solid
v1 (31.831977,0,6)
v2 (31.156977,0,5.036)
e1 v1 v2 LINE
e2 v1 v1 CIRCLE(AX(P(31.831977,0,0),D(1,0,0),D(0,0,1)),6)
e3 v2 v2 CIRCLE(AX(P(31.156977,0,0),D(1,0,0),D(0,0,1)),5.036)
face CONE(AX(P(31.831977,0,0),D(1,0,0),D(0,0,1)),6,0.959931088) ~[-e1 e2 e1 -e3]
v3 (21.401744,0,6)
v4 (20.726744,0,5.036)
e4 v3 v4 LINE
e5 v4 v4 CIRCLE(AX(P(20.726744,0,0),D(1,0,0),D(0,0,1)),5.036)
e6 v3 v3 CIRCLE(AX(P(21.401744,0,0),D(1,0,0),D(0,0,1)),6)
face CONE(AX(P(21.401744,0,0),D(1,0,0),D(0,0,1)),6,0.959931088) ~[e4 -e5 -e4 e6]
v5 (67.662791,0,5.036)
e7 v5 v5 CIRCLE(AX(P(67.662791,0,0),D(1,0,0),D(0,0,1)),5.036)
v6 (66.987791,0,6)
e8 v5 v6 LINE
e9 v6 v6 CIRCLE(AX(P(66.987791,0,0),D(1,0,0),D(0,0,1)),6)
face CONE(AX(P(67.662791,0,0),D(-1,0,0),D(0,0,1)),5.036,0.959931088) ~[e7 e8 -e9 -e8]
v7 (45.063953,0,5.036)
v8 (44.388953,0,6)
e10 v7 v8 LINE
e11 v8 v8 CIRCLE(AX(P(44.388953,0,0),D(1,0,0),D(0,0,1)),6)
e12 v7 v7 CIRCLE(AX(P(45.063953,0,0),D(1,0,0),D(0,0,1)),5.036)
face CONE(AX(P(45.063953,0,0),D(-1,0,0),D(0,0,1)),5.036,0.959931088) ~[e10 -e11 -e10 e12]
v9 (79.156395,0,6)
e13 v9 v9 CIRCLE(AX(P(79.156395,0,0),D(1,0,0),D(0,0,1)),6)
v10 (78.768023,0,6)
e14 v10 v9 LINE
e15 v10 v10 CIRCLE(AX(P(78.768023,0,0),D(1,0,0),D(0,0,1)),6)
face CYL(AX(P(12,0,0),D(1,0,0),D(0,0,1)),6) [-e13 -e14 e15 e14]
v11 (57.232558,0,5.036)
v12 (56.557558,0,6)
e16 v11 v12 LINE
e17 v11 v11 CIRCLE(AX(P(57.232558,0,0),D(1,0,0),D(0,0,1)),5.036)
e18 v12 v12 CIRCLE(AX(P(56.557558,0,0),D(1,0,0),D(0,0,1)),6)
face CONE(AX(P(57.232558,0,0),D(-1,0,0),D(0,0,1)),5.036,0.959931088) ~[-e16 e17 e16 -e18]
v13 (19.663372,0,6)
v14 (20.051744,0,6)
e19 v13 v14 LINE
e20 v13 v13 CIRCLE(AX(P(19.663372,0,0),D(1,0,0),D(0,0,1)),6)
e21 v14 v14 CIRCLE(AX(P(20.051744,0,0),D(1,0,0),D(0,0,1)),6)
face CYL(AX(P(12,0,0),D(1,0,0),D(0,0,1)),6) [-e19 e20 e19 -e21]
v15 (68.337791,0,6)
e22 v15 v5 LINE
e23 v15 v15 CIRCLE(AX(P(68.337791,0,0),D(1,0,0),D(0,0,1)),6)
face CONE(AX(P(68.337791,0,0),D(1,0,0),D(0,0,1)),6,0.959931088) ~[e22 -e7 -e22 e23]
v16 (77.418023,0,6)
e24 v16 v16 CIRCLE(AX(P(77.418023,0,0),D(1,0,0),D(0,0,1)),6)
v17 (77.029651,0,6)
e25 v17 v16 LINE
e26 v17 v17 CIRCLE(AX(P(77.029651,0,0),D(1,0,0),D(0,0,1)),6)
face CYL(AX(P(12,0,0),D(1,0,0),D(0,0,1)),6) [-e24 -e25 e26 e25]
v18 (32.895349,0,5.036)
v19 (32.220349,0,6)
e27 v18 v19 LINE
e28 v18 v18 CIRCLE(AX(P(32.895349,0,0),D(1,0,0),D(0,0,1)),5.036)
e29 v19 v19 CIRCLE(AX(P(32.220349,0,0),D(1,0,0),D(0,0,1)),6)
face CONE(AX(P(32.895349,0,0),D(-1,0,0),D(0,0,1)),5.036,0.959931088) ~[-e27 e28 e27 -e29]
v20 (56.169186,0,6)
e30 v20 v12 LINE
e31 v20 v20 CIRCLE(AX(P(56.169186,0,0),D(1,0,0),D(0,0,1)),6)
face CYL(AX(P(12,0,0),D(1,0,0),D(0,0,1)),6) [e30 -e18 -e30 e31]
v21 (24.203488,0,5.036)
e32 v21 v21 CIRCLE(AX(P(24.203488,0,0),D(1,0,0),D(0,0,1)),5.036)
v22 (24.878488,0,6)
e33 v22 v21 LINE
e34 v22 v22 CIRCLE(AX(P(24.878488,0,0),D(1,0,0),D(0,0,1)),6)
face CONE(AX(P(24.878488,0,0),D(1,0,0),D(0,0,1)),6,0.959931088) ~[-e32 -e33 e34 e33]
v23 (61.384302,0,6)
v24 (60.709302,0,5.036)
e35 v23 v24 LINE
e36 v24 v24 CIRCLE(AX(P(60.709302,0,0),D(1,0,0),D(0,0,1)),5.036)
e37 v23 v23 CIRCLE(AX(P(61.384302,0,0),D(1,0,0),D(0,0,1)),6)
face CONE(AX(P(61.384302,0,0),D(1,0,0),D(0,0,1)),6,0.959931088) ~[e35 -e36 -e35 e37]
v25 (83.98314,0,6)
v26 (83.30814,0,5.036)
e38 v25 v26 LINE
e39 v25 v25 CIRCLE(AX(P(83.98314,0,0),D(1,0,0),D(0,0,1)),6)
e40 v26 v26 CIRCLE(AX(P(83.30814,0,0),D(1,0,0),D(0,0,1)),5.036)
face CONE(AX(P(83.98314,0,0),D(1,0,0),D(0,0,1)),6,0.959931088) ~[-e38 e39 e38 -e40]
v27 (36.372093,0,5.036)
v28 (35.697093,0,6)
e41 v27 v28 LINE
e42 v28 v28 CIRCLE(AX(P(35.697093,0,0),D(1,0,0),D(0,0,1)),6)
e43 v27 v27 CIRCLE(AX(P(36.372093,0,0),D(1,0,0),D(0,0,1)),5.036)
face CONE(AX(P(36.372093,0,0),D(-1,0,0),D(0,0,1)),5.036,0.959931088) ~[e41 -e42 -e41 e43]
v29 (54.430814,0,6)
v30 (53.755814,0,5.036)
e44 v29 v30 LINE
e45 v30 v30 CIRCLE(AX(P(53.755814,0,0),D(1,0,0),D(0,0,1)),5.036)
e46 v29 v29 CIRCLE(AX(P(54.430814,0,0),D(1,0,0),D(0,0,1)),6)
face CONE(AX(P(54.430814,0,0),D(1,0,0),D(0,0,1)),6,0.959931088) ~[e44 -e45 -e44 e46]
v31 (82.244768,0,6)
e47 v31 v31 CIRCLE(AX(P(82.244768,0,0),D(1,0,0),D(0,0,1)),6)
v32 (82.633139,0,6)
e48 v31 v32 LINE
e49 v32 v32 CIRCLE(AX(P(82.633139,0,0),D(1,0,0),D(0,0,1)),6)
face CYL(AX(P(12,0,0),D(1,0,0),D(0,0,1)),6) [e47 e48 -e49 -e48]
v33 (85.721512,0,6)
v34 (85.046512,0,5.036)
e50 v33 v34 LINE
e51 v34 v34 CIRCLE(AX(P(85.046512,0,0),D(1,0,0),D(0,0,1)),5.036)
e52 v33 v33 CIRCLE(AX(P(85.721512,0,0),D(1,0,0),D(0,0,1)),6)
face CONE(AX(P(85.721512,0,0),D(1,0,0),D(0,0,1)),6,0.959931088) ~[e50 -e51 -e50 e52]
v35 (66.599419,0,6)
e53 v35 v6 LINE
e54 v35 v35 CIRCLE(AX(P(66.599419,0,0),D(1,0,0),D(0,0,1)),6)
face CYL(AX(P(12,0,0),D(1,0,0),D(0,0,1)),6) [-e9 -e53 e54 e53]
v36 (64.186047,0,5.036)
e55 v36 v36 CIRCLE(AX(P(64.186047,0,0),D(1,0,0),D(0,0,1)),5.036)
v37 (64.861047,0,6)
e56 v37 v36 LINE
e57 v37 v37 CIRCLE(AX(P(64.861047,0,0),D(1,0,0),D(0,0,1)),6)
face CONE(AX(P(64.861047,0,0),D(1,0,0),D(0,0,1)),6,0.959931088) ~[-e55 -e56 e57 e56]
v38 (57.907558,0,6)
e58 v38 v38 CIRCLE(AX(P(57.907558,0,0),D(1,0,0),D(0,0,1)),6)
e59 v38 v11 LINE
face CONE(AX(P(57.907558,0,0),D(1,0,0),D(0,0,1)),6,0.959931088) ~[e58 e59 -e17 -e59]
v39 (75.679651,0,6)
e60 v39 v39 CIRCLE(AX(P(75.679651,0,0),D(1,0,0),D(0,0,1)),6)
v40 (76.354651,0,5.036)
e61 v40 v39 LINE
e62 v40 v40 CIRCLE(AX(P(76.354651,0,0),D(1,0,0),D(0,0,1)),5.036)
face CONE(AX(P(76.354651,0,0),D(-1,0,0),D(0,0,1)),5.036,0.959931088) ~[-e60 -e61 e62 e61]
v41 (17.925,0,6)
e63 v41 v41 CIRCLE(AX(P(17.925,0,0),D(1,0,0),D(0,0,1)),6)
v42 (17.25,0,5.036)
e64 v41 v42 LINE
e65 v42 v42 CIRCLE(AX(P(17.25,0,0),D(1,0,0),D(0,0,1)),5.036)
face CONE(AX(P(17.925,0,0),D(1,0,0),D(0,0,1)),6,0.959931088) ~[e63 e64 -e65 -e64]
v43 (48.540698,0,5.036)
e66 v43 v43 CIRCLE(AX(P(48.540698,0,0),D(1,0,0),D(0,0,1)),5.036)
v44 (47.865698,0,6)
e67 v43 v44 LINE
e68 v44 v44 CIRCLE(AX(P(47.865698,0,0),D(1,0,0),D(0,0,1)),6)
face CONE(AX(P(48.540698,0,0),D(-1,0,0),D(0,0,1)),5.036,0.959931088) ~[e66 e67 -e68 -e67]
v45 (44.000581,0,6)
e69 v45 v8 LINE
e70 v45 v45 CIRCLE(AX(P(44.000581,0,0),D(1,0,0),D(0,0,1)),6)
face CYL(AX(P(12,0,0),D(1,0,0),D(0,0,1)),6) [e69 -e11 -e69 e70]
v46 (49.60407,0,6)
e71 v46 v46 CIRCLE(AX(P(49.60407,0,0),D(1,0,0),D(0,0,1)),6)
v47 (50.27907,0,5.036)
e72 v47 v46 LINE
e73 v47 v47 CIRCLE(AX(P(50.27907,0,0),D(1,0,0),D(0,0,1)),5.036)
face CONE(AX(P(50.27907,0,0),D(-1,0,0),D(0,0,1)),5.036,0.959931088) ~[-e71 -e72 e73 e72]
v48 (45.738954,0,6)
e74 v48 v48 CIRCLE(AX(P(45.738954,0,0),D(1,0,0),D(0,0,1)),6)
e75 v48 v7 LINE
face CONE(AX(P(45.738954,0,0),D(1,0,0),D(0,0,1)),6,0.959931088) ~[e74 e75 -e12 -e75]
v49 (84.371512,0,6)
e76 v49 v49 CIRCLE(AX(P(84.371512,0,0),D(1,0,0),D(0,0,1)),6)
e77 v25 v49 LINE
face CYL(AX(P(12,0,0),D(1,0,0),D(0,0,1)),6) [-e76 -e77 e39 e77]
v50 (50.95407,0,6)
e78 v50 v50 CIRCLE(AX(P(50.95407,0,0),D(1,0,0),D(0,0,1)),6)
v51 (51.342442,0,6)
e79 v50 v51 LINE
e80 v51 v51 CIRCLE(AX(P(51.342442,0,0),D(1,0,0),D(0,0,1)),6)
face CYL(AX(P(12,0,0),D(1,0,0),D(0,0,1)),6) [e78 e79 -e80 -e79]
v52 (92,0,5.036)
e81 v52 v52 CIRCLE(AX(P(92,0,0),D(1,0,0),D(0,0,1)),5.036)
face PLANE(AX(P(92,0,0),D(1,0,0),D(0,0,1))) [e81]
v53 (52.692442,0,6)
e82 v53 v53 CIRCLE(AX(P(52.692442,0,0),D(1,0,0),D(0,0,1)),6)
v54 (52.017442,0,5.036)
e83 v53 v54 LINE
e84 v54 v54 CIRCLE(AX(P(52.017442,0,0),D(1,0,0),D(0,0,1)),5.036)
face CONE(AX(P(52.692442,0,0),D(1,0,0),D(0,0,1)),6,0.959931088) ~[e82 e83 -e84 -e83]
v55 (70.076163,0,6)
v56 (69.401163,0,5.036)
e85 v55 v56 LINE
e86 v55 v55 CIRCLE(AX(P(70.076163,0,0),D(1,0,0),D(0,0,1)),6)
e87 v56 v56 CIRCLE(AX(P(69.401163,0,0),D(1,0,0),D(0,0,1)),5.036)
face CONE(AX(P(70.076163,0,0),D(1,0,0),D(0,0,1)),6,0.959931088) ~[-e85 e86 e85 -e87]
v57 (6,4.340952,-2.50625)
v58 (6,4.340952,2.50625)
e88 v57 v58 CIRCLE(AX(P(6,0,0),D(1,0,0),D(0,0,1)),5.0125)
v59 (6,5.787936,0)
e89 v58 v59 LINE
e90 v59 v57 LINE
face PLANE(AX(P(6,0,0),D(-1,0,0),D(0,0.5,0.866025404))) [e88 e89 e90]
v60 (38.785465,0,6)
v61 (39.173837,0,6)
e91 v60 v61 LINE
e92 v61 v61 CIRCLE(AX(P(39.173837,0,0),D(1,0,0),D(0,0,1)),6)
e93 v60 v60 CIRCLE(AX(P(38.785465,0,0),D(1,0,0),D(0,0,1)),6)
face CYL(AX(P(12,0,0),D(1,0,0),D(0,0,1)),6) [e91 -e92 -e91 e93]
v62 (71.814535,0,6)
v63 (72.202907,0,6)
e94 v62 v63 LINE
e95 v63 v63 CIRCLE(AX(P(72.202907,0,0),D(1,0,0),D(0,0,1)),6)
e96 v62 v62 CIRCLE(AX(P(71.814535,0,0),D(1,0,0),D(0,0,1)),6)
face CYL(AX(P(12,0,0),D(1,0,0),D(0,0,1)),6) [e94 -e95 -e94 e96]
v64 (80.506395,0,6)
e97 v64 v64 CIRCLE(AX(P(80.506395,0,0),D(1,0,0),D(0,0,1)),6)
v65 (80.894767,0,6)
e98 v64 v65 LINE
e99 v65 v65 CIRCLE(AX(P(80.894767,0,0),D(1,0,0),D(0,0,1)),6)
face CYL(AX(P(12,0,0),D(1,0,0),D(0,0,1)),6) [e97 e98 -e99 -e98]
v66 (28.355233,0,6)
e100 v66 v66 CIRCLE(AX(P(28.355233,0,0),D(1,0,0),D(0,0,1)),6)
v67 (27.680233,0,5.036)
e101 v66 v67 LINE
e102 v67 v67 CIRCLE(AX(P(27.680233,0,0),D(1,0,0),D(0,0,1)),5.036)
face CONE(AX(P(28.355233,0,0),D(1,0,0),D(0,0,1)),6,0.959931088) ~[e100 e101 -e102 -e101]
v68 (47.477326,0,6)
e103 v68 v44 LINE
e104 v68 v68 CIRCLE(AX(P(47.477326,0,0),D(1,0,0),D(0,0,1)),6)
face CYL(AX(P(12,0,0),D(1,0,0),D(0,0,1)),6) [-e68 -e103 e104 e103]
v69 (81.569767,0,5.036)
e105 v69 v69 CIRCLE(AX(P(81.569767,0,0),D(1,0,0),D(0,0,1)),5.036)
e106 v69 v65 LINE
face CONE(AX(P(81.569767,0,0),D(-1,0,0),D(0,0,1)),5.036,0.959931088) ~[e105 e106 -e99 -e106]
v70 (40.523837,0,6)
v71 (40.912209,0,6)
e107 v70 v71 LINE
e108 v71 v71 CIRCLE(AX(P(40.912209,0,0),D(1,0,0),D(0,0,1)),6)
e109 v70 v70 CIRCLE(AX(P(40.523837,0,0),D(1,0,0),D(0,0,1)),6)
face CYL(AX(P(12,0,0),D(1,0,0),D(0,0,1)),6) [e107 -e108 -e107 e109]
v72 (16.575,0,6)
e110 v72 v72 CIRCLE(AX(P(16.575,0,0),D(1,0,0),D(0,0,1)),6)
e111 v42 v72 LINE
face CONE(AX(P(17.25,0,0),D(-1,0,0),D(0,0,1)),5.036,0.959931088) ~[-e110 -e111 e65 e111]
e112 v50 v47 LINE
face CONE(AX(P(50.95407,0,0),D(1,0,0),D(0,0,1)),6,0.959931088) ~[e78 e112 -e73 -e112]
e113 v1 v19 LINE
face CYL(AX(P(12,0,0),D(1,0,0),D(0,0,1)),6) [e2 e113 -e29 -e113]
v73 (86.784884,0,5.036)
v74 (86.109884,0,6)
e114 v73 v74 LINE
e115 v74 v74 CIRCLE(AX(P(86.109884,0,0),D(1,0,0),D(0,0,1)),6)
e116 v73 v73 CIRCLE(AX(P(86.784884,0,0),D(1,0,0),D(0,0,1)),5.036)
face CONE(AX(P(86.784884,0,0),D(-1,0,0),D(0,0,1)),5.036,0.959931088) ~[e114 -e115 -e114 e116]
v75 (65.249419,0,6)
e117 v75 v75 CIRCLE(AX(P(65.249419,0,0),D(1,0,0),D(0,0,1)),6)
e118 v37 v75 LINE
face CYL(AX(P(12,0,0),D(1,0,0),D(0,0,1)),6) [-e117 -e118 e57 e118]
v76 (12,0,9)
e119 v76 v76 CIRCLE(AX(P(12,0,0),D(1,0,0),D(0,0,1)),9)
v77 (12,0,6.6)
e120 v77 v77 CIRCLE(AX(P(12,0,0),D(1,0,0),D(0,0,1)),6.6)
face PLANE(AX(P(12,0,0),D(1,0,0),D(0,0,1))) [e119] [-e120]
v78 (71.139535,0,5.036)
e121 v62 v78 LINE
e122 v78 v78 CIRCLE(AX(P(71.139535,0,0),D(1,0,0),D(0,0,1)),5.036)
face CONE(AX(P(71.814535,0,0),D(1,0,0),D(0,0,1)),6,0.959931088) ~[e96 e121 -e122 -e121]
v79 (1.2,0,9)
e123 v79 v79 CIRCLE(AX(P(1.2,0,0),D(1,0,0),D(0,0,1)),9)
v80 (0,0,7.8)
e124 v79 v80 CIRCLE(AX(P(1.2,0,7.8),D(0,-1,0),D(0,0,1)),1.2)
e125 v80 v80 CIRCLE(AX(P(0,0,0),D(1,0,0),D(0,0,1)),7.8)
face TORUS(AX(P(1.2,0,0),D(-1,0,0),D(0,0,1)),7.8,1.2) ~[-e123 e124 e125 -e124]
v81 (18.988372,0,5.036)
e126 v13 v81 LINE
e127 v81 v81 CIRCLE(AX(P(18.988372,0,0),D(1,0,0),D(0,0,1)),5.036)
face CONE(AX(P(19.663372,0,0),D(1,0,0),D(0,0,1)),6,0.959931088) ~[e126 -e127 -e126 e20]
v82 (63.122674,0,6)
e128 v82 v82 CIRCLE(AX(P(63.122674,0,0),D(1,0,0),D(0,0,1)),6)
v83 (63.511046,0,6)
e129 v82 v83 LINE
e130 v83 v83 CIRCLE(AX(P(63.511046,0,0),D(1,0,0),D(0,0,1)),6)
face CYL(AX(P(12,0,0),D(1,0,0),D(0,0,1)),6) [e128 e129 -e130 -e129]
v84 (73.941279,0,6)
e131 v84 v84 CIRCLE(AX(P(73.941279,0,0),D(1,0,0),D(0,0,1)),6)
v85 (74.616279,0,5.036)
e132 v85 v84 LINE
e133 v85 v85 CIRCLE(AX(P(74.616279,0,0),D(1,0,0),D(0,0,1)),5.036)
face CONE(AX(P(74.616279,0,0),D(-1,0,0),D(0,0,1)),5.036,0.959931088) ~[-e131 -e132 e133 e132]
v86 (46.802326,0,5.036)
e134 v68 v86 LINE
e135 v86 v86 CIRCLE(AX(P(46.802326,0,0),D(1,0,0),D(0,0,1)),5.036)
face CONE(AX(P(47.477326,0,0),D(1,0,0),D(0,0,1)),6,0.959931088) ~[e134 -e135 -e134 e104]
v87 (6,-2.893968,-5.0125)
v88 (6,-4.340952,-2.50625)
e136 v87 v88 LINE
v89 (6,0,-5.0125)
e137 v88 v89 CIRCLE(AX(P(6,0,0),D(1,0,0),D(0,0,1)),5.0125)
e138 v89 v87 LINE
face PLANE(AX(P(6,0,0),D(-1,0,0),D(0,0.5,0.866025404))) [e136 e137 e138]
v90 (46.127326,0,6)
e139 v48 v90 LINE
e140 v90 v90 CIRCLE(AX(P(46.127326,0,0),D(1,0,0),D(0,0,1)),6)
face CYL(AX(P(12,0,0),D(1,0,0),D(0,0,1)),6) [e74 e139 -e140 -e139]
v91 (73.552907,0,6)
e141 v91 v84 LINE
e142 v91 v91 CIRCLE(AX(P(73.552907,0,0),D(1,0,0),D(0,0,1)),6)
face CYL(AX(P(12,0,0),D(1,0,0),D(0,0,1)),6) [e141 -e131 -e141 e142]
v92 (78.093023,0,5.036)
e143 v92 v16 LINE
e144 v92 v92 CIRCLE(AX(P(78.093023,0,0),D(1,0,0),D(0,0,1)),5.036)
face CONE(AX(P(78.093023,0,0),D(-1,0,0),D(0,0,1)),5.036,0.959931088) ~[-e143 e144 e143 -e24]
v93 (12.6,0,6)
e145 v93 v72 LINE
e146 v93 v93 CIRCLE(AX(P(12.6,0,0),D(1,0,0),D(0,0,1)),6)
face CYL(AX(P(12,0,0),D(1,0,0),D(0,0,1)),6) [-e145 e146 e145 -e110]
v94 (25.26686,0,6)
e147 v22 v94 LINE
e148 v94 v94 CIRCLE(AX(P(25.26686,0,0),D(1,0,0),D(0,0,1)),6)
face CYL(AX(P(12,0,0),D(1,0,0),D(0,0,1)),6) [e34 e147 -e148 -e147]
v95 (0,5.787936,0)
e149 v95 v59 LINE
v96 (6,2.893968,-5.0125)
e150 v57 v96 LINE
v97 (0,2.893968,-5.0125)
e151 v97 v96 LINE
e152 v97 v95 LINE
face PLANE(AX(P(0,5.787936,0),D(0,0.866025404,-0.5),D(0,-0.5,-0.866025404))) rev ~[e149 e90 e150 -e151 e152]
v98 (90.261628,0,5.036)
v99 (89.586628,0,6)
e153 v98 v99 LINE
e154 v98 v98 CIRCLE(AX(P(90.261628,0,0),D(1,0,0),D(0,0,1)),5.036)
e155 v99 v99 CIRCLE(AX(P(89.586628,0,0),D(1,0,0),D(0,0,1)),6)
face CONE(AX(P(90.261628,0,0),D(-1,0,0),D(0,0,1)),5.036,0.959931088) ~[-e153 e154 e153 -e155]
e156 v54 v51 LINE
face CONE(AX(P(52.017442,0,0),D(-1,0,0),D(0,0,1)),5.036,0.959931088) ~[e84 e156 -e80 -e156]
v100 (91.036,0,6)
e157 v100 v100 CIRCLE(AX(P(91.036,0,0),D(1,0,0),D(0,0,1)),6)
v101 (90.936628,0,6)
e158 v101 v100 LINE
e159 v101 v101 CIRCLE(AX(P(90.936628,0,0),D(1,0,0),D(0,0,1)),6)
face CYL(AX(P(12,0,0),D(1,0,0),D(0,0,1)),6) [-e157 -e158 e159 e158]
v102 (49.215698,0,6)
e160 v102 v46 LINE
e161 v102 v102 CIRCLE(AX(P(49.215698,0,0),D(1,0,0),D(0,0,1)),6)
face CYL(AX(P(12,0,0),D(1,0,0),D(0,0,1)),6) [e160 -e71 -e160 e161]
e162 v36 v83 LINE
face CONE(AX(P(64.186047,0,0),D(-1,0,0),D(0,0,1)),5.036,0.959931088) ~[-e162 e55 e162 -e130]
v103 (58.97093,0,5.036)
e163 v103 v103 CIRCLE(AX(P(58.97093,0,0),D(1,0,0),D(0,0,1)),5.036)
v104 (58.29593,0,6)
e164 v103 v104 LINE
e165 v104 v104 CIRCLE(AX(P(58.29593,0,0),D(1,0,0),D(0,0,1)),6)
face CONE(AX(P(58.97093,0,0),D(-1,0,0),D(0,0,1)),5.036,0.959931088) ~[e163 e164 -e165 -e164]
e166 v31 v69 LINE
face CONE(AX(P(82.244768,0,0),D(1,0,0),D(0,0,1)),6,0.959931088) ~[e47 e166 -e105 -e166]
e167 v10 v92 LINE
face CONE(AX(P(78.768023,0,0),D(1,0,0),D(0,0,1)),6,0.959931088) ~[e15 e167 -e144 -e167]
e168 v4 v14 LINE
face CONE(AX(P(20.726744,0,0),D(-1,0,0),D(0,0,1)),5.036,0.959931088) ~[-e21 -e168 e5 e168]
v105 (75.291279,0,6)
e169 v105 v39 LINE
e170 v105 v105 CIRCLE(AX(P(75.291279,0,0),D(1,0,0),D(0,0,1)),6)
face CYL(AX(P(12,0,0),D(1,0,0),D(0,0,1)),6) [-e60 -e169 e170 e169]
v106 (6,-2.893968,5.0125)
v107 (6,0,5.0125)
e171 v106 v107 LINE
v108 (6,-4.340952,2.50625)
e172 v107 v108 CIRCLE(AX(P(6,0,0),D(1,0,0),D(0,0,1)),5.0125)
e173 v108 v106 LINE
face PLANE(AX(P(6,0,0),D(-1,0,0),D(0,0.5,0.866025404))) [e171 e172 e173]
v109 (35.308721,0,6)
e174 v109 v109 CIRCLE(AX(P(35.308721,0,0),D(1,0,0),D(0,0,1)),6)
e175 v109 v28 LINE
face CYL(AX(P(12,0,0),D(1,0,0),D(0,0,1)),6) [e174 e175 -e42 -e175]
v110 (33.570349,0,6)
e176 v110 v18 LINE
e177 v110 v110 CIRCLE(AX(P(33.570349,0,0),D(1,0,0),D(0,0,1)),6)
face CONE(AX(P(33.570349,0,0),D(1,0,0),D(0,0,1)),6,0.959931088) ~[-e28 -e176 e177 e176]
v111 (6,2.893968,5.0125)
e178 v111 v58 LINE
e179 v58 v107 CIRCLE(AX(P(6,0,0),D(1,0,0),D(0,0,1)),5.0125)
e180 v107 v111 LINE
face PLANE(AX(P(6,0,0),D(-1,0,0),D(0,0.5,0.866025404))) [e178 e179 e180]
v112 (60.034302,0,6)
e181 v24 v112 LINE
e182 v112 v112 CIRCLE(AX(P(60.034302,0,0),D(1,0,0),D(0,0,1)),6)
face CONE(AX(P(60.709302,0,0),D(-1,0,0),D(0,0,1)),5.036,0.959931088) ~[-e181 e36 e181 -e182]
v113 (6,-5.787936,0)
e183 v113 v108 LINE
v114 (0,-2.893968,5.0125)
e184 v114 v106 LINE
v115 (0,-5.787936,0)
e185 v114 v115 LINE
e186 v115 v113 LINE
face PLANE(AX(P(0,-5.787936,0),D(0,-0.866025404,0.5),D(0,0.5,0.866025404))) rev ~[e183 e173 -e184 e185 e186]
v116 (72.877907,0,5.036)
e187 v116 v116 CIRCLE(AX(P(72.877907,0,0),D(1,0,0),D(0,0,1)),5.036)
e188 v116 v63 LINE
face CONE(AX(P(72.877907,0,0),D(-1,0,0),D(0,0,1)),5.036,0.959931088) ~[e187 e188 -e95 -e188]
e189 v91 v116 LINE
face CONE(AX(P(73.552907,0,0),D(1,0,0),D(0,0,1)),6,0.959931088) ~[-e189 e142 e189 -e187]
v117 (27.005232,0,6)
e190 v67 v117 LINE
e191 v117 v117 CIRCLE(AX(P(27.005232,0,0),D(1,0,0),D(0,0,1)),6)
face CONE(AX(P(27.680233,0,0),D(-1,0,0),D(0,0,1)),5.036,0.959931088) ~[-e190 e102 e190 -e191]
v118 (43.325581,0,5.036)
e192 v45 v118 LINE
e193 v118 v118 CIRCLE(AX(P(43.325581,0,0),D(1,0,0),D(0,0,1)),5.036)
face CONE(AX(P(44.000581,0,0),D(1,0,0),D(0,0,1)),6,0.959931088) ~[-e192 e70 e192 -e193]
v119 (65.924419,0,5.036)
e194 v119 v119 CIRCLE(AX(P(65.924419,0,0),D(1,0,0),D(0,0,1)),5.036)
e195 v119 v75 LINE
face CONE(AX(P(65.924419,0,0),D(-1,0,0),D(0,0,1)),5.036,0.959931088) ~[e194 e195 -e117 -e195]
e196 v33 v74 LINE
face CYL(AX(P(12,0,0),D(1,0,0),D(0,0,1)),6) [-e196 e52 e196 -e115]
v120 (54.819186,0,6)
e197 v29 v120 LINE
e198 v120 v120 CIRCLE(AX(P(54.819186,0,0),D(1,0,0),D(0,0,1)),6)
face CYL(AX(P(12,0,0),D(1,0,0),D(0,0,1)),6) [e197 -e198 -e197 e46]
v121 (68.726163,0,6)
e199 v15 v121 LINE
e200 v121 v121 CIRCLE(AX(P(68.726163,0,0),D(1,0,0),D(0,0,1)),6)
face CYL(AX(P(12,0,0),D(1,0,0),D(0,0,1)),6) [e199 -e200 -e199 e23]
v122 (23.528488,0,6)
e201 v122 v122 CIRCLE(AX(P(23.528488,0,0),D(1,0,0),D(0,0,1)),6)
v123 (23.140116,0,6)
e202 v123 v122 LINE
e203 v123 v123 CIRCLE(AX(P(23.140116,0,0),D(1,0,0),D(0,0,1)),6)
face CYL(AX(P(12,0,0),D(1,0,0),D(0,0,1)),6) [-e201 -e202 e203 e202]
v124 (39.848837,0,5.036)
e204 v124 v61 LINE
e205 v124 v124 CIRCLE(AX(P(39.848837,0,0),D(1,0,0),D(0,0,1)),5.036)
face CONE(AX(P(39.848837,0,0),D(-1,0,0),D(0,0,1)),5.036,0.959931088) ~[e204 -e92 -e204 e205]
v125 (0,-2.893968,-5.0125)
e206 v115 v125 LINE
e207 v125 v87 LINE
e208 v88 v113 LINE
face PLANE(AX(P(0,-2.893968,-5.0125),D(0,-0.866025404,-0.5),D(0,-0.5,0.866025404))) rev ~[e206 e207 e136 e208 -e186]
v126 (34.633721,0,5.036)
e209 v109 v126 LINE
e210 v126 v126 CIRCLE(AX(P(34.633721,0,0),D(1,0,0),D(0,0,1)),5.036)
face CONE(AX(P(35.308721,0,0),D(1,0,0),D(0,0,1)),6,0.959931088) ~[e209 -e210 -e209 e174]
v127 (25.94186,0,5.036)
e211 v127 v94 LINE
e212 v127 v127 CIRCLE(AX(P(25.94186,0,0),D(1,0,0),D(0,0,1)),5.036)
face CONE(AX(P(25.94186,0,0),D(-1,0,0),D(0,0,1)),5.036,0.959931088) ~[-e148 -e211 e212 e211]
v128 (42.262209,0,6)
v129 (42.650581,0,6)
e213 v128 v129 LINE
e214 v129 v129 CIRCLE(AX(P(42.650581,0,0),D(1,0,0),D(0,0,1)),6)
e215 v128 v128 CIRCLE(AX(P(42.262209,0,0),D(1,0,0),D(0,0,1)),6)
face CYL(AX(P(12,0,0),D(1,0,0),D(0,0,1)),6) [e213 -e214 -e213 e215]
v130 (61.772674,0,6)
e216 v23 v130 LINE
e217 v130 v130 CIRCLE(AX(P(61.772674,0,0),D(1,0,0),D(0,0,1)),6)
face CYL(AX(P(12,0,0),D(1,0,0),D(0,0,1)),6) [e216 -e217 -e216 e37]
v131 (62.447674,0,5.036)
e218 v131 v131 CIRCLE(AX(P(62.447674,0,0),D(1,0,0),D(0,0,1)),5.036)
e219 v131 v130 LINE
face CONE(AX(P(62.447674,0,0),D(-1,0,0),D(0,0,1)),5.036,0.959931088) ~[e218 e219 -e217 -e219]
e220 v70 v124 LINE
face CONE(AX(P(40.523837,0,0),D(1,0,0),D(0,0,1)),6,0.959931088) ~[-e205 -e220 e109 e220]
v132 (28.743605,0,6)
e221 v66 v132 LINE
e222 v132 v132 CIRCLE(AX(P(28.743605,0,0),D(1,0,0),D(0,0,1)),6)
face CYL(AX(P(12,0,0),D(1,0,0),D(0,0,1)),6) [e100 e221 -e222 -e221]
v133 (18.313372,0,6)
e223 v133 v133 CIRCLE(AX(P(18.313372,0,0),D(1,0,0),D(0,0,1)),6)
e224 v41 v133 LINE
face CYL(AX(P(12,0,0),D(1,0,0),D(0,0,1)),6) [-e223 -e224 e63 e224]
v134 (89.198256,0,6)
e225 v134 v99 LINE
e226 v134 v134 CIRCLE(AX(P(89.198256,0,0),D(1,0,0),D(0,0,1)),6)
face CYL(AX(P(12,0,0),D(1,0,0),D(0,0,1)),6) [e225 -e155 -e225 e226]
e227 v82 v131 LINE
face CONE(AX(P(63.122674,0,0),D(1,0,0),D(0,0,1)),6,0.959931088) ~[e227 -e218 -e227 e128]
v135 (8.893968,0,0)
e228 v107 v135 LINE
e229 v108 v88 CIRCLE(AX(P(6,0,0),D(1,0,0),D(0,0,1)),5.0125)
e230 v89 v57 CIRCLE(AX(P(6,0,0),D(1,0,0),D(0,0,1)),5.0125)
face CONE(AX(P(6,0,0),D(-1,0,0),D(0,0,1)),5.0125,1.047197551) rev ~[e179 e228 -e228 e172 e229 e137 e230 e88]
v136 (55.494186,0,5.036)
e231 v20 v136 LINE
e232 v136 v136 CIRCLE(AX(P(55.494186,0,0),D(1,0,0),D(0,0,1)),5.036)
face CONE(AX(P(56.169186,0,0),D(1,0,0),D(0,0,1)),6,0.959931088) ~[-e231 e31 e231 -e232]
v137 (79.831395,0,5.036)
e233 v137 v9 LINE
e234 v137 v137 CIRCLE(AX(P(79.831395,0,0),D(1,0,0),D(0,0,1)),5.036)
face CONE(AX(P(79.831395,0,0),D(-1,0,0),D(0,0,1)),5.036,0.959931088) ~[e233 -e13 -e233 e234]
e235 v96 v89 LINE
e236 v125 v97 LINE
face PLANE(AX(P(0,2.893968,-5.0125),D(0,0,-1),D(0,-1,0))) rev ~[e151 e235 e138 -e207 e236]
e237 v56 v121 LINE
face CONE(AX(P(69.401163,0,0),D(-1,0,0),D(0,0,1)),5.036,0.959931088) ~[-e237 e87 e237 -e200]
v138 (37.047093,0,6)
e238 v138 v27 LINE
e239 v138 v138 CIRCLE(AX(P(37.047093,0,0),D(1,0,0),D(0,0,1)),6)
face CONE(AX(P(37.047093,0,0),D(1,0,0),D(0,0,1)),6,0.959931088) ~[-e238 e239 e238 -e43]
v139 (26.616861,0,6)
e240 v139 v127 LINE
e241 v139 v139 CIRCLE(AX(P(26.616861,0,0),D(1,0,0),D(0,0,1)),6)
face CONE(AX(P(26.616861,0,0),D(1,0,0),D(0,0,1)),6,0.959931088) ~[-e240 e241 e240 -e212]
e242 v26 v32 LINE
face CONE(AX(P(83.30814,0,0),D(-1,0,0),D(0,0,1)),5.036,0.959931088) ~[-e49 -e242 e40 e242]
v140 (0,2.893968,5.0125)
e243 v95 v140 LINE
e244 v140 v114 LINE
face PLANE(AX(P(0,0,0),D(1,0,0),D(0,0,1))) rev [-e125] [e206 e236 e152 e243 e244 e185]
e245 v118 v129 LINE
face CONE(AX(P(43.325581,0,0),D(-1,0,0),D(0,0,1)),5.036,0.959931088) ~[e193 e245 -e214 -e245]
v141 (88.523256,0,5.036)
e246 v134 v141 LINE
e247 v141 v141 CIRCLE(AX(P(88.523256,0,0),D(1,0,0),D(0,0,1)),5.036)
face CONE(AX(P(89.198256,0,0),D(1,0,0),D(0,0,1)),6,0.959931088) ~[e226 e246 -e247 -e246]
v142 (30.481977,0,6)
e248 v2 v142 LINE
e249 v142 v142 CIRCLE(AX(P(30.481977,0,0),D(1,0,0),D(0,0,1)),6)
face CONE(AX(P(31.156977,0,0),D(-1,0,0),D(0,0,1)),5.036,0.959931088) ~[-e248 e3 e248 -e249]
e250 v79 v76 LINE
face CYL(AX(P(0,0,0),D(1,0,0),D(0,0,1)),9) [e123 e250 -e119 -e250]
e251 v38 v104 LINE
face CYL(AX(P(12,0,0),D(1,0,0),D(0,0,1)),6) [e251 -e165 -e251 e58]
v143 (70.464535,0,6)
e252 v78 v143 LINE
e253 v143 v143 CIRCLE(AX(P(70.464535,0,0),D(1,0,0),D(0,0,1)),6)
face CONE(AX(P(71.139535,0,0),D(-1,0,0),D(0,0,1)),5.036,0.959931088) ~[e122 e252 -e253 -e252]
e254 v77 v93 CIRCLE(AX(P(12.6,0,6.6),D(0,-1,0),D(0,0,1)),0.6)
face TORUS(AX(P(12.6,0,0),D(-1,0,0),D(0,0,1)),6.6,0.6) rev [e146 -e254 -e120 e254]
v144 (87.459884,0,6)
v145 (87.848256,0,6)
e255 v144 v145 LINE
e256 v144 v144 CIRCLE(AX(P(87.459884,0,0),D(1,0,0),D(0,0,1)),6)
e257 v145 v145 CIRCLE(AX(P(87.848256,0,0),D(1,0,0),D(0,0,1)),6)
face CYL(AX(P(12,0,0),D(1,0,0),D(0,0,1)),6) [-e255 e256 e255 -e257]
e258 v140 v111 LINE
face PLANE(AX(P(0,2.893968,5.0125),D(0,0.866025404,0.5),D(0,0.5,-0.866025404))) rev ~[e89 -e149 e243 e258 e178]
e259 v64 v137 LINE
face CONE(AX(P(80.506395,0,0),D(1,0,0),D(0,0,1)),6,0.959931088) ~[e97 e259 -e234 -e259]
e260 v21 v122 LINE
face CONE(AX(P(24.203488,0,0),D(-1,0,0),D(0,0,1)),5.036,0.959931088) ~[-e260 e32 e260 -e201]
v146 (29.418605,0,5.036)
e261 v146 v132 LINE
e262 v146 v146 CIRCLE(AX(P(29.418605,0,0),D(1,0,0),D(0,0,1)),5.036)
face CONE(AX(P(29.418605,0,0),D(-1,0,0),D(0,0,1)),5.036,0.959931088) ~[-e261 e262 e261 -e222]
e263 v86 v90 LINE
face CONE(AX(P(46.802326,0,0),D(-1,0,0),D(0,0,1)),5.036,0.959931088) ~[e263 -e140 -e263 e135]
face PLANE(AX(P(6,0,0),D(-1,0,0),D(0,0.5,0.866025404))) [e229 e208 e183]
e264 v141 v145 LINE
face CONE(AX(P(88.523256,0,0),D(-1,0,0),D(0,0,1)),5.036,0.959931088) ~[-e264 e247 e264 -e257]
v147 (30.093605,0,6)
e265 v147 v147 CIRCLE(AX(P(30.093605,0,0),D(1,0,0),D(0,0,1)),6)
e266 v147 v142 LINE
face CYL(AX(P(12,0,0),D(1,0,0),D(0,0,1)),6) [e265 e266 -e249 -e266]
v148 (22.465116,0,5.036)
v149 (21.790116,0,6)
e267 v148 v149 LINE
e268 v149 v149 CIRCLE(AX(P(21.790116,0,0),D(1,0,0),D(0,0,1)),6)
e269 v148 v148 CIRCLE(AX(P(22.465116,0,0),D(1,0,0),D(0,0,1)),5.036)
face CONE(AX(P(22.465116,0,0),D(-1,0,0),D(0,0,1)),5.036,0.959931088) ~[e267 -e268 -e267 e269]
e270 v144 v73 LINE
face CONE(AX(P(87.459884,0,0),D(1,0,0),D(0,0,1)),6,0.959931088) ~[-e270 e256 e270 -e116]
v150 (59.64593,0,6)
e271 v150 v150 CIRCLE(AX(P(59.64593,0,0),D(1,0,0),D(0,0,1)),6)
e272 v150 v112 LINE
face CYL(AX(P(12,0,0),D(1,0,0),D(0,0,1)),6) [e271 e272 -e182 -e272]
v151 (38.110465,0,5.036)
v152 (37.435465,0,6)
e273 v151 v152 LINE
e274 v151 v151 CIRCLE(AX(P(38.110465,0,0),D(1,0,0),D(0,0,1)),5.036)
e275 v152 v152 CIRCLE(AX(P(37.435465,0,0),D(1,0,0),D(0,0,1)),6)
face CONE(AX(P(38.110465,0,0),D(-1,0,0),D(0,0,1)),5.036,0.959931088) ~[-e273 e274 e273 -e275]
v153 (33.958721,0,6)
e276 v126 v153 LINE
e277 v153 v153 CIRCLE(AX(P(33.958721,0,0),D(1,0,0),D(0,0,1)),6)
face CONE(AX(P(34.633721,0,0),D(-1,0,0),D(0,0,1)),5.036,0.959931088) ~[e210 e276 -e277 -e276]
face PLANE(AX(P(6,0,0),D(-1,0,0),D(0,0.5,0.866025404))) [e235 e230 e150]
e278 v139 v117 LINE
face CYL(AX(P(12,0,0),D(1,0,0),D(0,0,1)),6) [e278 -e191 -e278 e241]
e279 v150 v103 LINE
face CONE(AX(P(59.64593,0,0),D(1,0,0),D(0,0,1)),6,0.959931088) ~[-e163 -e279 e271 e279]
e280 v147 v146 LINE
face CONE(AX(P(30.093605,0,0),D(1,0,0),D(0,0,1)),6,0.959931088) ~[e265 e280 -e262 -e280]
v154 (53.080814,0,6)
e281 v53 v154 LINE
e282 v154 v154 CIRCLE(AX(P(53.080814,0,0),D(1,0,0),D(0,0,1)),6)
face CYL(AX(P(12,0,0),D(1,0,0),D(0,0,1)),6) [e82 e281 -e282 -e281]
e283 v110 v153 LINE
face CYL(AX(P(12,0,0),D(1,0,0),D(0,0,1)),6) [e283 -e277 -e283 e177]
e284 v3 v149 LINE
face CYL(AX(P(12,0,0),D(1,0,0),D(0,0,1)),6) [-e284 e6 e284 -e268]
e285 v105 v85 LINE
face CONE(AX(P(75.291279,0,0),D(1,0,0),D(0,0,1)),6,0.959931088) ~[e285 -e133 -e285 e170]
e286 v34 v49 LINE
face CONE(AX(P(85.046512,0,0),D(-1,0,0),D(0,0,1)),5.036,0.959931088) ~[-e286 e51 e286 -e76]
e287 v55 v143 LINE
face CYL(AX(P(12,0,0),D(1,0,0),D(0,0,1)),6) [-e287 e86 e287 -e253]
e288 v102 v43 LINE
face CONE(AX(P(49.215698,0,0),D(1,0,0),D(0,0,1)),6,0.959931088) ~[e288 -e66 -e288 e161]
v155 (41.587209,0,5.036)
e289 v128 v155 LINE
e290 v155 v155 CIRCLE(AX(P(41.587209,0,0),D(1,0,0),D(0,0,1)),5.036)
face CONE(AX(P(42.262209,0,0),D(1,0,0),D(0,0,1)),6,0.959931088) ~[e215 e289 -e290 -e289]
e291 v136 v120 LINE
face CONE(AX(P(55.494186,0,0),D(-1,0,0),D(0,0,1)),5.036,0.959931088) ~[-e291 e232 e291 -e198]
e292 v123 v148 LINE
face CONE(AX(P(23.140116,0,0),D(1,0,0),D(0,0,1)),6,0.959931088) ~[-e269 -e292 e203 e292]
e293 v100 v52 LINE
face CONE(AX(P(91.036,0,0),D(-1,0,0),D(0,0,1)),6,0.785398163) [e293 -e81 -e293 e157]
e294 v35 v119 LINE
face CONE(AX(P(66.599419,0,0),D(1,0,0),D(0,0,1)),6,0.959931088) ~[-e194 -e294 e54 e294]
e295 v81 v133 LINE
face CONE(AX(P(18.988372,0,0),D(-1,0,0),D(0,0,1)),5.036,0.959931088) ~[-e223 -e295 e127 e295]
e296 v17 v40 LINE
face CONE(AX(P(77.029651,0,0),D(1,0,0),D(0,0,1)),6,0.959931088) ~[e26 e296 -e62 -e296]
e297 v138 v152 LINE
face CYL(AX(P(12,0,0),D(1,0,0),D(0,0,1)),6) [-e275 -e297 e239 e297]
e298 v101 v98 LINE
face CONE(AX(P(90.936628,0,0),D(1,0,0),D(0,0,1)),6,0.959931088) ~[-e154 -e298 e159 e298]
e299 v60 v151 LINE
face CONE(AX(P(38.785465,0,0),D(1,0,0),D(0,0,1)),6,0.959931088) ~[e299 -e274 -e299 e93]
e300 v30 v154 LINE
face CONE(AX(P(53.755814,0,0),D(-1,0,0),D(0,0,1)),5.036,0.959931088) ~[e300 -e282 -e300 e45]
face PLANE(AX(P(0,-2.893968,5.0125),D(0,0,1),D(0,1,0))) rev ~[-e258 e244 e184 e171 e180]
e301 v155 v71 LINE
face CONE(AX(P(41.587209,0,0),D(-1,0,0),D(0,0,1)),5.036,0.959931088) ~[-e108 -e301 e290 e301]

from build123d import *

# Parameters (mm, degrees)
FILLET1_R       = 0.6
FILLET2_R       = 1.2
HEX_2_DEPTH     = 6
THDSCHPAT_COUNT = 43
THDSCHPAT_PITCH = 1.738372093


with BuildPart() as part:
    # BodySke → Base-Revolve (revolve)
    with BuildSketch(Plane.XY, mode=Mode.PRIVATE) as base_revolve_sk:
        Polygon((0, 0), (0, 9), (12, 9), (12, 6), (91.036, 6), (92, 5.036), (92, 0), align=None)
    revolve(base_revolve_sk.sketch.rotate(Axis((-31.75, 0, 0), (1, 0, 0)), 90), axis=Axis((-31.75, 0, 0), (1, 0, 0)))  # turned: the seam where the file's is

    # Fillet1
    fillet1_edges = [part.edges().sort_by_distance(p)[0] for p in [
        (12, 0, -6),
    ]]
    fillet(fillet1_edges, radius=FILLET1_R)

    # Fillet2
    fillet2_edges = [part.edges().sort_by_distance(p)[0] for p in [
        (0, 0, -9),
    ]]
    fillet(fillet2_edges, radius=FILLET2_R)

    # Sketch2 → Hex-PreBroach (revolve, cut)
    with BuildSketch(Plane.XY, mode=Mode.PRIVATE) as hex_prebroach_sk:
        Polygon((0, 5.0125), (6, 5.0125), (8.893968224, 0), (0, 0), align=None)
    revolve(hex_prebroach_sk.sketch.rotate(Axis((0, 0, 0), (1, 0, 0)), 90), axis=Axis((0, 0, 0), (1, 0, 0)), mode=Mode.SUBTRACT)  # turned: the seam where the file's is

    # Sketch3 → Hex 2 (cut)
    with BuildSketch(Plane(origin=(0, 0, 0), x_dir=(0, 0.5, 0.866025404), z_dir=(-1, 0, 0))):
        Polygon((2.893968224, 5.0125), (-2.893968224, 5.0125), (-5.787936449, 0), (-2.893968224, -5.0125), (2.893968224, -5.0125), (5.787936449, 0), align=None)
    extrude(amount=-HEX_2_DEPTH, mode=Mode.SUBTRACT)

    # ThdSchSke → ThreadSchematic (revolve, cut)
    with BuildSketch(Plane.XY, mode=Mode.PRIVATE) as threadschematic_sk:
        Polygon((17.25, -5.036), (16.574999933, -6), (16.574999933, -7.5), (17.925000067, -7.5), (17.925000067, -6), align=None)
    threadschematic = revolve(threadschematic_sk.sketch.rotate(Axis((-3.175, 0, 0), (1, 0, 0)), 270), axis=Axis((-3.175, 0, 0), (1, 0, 0)), mode=Mode.SUBTRACT)  # turned: the seam where the file's is

    # ThdSchPat: ThreadSchematic ×43
    with Locations(*[(i * THDSCHPAT_PITCH, 0, 0) for i in range(1, THDSCHPAT_COUNT)]):
        add(threadschematic, mode=Mode.SUBTRACT)


solid = part.part
